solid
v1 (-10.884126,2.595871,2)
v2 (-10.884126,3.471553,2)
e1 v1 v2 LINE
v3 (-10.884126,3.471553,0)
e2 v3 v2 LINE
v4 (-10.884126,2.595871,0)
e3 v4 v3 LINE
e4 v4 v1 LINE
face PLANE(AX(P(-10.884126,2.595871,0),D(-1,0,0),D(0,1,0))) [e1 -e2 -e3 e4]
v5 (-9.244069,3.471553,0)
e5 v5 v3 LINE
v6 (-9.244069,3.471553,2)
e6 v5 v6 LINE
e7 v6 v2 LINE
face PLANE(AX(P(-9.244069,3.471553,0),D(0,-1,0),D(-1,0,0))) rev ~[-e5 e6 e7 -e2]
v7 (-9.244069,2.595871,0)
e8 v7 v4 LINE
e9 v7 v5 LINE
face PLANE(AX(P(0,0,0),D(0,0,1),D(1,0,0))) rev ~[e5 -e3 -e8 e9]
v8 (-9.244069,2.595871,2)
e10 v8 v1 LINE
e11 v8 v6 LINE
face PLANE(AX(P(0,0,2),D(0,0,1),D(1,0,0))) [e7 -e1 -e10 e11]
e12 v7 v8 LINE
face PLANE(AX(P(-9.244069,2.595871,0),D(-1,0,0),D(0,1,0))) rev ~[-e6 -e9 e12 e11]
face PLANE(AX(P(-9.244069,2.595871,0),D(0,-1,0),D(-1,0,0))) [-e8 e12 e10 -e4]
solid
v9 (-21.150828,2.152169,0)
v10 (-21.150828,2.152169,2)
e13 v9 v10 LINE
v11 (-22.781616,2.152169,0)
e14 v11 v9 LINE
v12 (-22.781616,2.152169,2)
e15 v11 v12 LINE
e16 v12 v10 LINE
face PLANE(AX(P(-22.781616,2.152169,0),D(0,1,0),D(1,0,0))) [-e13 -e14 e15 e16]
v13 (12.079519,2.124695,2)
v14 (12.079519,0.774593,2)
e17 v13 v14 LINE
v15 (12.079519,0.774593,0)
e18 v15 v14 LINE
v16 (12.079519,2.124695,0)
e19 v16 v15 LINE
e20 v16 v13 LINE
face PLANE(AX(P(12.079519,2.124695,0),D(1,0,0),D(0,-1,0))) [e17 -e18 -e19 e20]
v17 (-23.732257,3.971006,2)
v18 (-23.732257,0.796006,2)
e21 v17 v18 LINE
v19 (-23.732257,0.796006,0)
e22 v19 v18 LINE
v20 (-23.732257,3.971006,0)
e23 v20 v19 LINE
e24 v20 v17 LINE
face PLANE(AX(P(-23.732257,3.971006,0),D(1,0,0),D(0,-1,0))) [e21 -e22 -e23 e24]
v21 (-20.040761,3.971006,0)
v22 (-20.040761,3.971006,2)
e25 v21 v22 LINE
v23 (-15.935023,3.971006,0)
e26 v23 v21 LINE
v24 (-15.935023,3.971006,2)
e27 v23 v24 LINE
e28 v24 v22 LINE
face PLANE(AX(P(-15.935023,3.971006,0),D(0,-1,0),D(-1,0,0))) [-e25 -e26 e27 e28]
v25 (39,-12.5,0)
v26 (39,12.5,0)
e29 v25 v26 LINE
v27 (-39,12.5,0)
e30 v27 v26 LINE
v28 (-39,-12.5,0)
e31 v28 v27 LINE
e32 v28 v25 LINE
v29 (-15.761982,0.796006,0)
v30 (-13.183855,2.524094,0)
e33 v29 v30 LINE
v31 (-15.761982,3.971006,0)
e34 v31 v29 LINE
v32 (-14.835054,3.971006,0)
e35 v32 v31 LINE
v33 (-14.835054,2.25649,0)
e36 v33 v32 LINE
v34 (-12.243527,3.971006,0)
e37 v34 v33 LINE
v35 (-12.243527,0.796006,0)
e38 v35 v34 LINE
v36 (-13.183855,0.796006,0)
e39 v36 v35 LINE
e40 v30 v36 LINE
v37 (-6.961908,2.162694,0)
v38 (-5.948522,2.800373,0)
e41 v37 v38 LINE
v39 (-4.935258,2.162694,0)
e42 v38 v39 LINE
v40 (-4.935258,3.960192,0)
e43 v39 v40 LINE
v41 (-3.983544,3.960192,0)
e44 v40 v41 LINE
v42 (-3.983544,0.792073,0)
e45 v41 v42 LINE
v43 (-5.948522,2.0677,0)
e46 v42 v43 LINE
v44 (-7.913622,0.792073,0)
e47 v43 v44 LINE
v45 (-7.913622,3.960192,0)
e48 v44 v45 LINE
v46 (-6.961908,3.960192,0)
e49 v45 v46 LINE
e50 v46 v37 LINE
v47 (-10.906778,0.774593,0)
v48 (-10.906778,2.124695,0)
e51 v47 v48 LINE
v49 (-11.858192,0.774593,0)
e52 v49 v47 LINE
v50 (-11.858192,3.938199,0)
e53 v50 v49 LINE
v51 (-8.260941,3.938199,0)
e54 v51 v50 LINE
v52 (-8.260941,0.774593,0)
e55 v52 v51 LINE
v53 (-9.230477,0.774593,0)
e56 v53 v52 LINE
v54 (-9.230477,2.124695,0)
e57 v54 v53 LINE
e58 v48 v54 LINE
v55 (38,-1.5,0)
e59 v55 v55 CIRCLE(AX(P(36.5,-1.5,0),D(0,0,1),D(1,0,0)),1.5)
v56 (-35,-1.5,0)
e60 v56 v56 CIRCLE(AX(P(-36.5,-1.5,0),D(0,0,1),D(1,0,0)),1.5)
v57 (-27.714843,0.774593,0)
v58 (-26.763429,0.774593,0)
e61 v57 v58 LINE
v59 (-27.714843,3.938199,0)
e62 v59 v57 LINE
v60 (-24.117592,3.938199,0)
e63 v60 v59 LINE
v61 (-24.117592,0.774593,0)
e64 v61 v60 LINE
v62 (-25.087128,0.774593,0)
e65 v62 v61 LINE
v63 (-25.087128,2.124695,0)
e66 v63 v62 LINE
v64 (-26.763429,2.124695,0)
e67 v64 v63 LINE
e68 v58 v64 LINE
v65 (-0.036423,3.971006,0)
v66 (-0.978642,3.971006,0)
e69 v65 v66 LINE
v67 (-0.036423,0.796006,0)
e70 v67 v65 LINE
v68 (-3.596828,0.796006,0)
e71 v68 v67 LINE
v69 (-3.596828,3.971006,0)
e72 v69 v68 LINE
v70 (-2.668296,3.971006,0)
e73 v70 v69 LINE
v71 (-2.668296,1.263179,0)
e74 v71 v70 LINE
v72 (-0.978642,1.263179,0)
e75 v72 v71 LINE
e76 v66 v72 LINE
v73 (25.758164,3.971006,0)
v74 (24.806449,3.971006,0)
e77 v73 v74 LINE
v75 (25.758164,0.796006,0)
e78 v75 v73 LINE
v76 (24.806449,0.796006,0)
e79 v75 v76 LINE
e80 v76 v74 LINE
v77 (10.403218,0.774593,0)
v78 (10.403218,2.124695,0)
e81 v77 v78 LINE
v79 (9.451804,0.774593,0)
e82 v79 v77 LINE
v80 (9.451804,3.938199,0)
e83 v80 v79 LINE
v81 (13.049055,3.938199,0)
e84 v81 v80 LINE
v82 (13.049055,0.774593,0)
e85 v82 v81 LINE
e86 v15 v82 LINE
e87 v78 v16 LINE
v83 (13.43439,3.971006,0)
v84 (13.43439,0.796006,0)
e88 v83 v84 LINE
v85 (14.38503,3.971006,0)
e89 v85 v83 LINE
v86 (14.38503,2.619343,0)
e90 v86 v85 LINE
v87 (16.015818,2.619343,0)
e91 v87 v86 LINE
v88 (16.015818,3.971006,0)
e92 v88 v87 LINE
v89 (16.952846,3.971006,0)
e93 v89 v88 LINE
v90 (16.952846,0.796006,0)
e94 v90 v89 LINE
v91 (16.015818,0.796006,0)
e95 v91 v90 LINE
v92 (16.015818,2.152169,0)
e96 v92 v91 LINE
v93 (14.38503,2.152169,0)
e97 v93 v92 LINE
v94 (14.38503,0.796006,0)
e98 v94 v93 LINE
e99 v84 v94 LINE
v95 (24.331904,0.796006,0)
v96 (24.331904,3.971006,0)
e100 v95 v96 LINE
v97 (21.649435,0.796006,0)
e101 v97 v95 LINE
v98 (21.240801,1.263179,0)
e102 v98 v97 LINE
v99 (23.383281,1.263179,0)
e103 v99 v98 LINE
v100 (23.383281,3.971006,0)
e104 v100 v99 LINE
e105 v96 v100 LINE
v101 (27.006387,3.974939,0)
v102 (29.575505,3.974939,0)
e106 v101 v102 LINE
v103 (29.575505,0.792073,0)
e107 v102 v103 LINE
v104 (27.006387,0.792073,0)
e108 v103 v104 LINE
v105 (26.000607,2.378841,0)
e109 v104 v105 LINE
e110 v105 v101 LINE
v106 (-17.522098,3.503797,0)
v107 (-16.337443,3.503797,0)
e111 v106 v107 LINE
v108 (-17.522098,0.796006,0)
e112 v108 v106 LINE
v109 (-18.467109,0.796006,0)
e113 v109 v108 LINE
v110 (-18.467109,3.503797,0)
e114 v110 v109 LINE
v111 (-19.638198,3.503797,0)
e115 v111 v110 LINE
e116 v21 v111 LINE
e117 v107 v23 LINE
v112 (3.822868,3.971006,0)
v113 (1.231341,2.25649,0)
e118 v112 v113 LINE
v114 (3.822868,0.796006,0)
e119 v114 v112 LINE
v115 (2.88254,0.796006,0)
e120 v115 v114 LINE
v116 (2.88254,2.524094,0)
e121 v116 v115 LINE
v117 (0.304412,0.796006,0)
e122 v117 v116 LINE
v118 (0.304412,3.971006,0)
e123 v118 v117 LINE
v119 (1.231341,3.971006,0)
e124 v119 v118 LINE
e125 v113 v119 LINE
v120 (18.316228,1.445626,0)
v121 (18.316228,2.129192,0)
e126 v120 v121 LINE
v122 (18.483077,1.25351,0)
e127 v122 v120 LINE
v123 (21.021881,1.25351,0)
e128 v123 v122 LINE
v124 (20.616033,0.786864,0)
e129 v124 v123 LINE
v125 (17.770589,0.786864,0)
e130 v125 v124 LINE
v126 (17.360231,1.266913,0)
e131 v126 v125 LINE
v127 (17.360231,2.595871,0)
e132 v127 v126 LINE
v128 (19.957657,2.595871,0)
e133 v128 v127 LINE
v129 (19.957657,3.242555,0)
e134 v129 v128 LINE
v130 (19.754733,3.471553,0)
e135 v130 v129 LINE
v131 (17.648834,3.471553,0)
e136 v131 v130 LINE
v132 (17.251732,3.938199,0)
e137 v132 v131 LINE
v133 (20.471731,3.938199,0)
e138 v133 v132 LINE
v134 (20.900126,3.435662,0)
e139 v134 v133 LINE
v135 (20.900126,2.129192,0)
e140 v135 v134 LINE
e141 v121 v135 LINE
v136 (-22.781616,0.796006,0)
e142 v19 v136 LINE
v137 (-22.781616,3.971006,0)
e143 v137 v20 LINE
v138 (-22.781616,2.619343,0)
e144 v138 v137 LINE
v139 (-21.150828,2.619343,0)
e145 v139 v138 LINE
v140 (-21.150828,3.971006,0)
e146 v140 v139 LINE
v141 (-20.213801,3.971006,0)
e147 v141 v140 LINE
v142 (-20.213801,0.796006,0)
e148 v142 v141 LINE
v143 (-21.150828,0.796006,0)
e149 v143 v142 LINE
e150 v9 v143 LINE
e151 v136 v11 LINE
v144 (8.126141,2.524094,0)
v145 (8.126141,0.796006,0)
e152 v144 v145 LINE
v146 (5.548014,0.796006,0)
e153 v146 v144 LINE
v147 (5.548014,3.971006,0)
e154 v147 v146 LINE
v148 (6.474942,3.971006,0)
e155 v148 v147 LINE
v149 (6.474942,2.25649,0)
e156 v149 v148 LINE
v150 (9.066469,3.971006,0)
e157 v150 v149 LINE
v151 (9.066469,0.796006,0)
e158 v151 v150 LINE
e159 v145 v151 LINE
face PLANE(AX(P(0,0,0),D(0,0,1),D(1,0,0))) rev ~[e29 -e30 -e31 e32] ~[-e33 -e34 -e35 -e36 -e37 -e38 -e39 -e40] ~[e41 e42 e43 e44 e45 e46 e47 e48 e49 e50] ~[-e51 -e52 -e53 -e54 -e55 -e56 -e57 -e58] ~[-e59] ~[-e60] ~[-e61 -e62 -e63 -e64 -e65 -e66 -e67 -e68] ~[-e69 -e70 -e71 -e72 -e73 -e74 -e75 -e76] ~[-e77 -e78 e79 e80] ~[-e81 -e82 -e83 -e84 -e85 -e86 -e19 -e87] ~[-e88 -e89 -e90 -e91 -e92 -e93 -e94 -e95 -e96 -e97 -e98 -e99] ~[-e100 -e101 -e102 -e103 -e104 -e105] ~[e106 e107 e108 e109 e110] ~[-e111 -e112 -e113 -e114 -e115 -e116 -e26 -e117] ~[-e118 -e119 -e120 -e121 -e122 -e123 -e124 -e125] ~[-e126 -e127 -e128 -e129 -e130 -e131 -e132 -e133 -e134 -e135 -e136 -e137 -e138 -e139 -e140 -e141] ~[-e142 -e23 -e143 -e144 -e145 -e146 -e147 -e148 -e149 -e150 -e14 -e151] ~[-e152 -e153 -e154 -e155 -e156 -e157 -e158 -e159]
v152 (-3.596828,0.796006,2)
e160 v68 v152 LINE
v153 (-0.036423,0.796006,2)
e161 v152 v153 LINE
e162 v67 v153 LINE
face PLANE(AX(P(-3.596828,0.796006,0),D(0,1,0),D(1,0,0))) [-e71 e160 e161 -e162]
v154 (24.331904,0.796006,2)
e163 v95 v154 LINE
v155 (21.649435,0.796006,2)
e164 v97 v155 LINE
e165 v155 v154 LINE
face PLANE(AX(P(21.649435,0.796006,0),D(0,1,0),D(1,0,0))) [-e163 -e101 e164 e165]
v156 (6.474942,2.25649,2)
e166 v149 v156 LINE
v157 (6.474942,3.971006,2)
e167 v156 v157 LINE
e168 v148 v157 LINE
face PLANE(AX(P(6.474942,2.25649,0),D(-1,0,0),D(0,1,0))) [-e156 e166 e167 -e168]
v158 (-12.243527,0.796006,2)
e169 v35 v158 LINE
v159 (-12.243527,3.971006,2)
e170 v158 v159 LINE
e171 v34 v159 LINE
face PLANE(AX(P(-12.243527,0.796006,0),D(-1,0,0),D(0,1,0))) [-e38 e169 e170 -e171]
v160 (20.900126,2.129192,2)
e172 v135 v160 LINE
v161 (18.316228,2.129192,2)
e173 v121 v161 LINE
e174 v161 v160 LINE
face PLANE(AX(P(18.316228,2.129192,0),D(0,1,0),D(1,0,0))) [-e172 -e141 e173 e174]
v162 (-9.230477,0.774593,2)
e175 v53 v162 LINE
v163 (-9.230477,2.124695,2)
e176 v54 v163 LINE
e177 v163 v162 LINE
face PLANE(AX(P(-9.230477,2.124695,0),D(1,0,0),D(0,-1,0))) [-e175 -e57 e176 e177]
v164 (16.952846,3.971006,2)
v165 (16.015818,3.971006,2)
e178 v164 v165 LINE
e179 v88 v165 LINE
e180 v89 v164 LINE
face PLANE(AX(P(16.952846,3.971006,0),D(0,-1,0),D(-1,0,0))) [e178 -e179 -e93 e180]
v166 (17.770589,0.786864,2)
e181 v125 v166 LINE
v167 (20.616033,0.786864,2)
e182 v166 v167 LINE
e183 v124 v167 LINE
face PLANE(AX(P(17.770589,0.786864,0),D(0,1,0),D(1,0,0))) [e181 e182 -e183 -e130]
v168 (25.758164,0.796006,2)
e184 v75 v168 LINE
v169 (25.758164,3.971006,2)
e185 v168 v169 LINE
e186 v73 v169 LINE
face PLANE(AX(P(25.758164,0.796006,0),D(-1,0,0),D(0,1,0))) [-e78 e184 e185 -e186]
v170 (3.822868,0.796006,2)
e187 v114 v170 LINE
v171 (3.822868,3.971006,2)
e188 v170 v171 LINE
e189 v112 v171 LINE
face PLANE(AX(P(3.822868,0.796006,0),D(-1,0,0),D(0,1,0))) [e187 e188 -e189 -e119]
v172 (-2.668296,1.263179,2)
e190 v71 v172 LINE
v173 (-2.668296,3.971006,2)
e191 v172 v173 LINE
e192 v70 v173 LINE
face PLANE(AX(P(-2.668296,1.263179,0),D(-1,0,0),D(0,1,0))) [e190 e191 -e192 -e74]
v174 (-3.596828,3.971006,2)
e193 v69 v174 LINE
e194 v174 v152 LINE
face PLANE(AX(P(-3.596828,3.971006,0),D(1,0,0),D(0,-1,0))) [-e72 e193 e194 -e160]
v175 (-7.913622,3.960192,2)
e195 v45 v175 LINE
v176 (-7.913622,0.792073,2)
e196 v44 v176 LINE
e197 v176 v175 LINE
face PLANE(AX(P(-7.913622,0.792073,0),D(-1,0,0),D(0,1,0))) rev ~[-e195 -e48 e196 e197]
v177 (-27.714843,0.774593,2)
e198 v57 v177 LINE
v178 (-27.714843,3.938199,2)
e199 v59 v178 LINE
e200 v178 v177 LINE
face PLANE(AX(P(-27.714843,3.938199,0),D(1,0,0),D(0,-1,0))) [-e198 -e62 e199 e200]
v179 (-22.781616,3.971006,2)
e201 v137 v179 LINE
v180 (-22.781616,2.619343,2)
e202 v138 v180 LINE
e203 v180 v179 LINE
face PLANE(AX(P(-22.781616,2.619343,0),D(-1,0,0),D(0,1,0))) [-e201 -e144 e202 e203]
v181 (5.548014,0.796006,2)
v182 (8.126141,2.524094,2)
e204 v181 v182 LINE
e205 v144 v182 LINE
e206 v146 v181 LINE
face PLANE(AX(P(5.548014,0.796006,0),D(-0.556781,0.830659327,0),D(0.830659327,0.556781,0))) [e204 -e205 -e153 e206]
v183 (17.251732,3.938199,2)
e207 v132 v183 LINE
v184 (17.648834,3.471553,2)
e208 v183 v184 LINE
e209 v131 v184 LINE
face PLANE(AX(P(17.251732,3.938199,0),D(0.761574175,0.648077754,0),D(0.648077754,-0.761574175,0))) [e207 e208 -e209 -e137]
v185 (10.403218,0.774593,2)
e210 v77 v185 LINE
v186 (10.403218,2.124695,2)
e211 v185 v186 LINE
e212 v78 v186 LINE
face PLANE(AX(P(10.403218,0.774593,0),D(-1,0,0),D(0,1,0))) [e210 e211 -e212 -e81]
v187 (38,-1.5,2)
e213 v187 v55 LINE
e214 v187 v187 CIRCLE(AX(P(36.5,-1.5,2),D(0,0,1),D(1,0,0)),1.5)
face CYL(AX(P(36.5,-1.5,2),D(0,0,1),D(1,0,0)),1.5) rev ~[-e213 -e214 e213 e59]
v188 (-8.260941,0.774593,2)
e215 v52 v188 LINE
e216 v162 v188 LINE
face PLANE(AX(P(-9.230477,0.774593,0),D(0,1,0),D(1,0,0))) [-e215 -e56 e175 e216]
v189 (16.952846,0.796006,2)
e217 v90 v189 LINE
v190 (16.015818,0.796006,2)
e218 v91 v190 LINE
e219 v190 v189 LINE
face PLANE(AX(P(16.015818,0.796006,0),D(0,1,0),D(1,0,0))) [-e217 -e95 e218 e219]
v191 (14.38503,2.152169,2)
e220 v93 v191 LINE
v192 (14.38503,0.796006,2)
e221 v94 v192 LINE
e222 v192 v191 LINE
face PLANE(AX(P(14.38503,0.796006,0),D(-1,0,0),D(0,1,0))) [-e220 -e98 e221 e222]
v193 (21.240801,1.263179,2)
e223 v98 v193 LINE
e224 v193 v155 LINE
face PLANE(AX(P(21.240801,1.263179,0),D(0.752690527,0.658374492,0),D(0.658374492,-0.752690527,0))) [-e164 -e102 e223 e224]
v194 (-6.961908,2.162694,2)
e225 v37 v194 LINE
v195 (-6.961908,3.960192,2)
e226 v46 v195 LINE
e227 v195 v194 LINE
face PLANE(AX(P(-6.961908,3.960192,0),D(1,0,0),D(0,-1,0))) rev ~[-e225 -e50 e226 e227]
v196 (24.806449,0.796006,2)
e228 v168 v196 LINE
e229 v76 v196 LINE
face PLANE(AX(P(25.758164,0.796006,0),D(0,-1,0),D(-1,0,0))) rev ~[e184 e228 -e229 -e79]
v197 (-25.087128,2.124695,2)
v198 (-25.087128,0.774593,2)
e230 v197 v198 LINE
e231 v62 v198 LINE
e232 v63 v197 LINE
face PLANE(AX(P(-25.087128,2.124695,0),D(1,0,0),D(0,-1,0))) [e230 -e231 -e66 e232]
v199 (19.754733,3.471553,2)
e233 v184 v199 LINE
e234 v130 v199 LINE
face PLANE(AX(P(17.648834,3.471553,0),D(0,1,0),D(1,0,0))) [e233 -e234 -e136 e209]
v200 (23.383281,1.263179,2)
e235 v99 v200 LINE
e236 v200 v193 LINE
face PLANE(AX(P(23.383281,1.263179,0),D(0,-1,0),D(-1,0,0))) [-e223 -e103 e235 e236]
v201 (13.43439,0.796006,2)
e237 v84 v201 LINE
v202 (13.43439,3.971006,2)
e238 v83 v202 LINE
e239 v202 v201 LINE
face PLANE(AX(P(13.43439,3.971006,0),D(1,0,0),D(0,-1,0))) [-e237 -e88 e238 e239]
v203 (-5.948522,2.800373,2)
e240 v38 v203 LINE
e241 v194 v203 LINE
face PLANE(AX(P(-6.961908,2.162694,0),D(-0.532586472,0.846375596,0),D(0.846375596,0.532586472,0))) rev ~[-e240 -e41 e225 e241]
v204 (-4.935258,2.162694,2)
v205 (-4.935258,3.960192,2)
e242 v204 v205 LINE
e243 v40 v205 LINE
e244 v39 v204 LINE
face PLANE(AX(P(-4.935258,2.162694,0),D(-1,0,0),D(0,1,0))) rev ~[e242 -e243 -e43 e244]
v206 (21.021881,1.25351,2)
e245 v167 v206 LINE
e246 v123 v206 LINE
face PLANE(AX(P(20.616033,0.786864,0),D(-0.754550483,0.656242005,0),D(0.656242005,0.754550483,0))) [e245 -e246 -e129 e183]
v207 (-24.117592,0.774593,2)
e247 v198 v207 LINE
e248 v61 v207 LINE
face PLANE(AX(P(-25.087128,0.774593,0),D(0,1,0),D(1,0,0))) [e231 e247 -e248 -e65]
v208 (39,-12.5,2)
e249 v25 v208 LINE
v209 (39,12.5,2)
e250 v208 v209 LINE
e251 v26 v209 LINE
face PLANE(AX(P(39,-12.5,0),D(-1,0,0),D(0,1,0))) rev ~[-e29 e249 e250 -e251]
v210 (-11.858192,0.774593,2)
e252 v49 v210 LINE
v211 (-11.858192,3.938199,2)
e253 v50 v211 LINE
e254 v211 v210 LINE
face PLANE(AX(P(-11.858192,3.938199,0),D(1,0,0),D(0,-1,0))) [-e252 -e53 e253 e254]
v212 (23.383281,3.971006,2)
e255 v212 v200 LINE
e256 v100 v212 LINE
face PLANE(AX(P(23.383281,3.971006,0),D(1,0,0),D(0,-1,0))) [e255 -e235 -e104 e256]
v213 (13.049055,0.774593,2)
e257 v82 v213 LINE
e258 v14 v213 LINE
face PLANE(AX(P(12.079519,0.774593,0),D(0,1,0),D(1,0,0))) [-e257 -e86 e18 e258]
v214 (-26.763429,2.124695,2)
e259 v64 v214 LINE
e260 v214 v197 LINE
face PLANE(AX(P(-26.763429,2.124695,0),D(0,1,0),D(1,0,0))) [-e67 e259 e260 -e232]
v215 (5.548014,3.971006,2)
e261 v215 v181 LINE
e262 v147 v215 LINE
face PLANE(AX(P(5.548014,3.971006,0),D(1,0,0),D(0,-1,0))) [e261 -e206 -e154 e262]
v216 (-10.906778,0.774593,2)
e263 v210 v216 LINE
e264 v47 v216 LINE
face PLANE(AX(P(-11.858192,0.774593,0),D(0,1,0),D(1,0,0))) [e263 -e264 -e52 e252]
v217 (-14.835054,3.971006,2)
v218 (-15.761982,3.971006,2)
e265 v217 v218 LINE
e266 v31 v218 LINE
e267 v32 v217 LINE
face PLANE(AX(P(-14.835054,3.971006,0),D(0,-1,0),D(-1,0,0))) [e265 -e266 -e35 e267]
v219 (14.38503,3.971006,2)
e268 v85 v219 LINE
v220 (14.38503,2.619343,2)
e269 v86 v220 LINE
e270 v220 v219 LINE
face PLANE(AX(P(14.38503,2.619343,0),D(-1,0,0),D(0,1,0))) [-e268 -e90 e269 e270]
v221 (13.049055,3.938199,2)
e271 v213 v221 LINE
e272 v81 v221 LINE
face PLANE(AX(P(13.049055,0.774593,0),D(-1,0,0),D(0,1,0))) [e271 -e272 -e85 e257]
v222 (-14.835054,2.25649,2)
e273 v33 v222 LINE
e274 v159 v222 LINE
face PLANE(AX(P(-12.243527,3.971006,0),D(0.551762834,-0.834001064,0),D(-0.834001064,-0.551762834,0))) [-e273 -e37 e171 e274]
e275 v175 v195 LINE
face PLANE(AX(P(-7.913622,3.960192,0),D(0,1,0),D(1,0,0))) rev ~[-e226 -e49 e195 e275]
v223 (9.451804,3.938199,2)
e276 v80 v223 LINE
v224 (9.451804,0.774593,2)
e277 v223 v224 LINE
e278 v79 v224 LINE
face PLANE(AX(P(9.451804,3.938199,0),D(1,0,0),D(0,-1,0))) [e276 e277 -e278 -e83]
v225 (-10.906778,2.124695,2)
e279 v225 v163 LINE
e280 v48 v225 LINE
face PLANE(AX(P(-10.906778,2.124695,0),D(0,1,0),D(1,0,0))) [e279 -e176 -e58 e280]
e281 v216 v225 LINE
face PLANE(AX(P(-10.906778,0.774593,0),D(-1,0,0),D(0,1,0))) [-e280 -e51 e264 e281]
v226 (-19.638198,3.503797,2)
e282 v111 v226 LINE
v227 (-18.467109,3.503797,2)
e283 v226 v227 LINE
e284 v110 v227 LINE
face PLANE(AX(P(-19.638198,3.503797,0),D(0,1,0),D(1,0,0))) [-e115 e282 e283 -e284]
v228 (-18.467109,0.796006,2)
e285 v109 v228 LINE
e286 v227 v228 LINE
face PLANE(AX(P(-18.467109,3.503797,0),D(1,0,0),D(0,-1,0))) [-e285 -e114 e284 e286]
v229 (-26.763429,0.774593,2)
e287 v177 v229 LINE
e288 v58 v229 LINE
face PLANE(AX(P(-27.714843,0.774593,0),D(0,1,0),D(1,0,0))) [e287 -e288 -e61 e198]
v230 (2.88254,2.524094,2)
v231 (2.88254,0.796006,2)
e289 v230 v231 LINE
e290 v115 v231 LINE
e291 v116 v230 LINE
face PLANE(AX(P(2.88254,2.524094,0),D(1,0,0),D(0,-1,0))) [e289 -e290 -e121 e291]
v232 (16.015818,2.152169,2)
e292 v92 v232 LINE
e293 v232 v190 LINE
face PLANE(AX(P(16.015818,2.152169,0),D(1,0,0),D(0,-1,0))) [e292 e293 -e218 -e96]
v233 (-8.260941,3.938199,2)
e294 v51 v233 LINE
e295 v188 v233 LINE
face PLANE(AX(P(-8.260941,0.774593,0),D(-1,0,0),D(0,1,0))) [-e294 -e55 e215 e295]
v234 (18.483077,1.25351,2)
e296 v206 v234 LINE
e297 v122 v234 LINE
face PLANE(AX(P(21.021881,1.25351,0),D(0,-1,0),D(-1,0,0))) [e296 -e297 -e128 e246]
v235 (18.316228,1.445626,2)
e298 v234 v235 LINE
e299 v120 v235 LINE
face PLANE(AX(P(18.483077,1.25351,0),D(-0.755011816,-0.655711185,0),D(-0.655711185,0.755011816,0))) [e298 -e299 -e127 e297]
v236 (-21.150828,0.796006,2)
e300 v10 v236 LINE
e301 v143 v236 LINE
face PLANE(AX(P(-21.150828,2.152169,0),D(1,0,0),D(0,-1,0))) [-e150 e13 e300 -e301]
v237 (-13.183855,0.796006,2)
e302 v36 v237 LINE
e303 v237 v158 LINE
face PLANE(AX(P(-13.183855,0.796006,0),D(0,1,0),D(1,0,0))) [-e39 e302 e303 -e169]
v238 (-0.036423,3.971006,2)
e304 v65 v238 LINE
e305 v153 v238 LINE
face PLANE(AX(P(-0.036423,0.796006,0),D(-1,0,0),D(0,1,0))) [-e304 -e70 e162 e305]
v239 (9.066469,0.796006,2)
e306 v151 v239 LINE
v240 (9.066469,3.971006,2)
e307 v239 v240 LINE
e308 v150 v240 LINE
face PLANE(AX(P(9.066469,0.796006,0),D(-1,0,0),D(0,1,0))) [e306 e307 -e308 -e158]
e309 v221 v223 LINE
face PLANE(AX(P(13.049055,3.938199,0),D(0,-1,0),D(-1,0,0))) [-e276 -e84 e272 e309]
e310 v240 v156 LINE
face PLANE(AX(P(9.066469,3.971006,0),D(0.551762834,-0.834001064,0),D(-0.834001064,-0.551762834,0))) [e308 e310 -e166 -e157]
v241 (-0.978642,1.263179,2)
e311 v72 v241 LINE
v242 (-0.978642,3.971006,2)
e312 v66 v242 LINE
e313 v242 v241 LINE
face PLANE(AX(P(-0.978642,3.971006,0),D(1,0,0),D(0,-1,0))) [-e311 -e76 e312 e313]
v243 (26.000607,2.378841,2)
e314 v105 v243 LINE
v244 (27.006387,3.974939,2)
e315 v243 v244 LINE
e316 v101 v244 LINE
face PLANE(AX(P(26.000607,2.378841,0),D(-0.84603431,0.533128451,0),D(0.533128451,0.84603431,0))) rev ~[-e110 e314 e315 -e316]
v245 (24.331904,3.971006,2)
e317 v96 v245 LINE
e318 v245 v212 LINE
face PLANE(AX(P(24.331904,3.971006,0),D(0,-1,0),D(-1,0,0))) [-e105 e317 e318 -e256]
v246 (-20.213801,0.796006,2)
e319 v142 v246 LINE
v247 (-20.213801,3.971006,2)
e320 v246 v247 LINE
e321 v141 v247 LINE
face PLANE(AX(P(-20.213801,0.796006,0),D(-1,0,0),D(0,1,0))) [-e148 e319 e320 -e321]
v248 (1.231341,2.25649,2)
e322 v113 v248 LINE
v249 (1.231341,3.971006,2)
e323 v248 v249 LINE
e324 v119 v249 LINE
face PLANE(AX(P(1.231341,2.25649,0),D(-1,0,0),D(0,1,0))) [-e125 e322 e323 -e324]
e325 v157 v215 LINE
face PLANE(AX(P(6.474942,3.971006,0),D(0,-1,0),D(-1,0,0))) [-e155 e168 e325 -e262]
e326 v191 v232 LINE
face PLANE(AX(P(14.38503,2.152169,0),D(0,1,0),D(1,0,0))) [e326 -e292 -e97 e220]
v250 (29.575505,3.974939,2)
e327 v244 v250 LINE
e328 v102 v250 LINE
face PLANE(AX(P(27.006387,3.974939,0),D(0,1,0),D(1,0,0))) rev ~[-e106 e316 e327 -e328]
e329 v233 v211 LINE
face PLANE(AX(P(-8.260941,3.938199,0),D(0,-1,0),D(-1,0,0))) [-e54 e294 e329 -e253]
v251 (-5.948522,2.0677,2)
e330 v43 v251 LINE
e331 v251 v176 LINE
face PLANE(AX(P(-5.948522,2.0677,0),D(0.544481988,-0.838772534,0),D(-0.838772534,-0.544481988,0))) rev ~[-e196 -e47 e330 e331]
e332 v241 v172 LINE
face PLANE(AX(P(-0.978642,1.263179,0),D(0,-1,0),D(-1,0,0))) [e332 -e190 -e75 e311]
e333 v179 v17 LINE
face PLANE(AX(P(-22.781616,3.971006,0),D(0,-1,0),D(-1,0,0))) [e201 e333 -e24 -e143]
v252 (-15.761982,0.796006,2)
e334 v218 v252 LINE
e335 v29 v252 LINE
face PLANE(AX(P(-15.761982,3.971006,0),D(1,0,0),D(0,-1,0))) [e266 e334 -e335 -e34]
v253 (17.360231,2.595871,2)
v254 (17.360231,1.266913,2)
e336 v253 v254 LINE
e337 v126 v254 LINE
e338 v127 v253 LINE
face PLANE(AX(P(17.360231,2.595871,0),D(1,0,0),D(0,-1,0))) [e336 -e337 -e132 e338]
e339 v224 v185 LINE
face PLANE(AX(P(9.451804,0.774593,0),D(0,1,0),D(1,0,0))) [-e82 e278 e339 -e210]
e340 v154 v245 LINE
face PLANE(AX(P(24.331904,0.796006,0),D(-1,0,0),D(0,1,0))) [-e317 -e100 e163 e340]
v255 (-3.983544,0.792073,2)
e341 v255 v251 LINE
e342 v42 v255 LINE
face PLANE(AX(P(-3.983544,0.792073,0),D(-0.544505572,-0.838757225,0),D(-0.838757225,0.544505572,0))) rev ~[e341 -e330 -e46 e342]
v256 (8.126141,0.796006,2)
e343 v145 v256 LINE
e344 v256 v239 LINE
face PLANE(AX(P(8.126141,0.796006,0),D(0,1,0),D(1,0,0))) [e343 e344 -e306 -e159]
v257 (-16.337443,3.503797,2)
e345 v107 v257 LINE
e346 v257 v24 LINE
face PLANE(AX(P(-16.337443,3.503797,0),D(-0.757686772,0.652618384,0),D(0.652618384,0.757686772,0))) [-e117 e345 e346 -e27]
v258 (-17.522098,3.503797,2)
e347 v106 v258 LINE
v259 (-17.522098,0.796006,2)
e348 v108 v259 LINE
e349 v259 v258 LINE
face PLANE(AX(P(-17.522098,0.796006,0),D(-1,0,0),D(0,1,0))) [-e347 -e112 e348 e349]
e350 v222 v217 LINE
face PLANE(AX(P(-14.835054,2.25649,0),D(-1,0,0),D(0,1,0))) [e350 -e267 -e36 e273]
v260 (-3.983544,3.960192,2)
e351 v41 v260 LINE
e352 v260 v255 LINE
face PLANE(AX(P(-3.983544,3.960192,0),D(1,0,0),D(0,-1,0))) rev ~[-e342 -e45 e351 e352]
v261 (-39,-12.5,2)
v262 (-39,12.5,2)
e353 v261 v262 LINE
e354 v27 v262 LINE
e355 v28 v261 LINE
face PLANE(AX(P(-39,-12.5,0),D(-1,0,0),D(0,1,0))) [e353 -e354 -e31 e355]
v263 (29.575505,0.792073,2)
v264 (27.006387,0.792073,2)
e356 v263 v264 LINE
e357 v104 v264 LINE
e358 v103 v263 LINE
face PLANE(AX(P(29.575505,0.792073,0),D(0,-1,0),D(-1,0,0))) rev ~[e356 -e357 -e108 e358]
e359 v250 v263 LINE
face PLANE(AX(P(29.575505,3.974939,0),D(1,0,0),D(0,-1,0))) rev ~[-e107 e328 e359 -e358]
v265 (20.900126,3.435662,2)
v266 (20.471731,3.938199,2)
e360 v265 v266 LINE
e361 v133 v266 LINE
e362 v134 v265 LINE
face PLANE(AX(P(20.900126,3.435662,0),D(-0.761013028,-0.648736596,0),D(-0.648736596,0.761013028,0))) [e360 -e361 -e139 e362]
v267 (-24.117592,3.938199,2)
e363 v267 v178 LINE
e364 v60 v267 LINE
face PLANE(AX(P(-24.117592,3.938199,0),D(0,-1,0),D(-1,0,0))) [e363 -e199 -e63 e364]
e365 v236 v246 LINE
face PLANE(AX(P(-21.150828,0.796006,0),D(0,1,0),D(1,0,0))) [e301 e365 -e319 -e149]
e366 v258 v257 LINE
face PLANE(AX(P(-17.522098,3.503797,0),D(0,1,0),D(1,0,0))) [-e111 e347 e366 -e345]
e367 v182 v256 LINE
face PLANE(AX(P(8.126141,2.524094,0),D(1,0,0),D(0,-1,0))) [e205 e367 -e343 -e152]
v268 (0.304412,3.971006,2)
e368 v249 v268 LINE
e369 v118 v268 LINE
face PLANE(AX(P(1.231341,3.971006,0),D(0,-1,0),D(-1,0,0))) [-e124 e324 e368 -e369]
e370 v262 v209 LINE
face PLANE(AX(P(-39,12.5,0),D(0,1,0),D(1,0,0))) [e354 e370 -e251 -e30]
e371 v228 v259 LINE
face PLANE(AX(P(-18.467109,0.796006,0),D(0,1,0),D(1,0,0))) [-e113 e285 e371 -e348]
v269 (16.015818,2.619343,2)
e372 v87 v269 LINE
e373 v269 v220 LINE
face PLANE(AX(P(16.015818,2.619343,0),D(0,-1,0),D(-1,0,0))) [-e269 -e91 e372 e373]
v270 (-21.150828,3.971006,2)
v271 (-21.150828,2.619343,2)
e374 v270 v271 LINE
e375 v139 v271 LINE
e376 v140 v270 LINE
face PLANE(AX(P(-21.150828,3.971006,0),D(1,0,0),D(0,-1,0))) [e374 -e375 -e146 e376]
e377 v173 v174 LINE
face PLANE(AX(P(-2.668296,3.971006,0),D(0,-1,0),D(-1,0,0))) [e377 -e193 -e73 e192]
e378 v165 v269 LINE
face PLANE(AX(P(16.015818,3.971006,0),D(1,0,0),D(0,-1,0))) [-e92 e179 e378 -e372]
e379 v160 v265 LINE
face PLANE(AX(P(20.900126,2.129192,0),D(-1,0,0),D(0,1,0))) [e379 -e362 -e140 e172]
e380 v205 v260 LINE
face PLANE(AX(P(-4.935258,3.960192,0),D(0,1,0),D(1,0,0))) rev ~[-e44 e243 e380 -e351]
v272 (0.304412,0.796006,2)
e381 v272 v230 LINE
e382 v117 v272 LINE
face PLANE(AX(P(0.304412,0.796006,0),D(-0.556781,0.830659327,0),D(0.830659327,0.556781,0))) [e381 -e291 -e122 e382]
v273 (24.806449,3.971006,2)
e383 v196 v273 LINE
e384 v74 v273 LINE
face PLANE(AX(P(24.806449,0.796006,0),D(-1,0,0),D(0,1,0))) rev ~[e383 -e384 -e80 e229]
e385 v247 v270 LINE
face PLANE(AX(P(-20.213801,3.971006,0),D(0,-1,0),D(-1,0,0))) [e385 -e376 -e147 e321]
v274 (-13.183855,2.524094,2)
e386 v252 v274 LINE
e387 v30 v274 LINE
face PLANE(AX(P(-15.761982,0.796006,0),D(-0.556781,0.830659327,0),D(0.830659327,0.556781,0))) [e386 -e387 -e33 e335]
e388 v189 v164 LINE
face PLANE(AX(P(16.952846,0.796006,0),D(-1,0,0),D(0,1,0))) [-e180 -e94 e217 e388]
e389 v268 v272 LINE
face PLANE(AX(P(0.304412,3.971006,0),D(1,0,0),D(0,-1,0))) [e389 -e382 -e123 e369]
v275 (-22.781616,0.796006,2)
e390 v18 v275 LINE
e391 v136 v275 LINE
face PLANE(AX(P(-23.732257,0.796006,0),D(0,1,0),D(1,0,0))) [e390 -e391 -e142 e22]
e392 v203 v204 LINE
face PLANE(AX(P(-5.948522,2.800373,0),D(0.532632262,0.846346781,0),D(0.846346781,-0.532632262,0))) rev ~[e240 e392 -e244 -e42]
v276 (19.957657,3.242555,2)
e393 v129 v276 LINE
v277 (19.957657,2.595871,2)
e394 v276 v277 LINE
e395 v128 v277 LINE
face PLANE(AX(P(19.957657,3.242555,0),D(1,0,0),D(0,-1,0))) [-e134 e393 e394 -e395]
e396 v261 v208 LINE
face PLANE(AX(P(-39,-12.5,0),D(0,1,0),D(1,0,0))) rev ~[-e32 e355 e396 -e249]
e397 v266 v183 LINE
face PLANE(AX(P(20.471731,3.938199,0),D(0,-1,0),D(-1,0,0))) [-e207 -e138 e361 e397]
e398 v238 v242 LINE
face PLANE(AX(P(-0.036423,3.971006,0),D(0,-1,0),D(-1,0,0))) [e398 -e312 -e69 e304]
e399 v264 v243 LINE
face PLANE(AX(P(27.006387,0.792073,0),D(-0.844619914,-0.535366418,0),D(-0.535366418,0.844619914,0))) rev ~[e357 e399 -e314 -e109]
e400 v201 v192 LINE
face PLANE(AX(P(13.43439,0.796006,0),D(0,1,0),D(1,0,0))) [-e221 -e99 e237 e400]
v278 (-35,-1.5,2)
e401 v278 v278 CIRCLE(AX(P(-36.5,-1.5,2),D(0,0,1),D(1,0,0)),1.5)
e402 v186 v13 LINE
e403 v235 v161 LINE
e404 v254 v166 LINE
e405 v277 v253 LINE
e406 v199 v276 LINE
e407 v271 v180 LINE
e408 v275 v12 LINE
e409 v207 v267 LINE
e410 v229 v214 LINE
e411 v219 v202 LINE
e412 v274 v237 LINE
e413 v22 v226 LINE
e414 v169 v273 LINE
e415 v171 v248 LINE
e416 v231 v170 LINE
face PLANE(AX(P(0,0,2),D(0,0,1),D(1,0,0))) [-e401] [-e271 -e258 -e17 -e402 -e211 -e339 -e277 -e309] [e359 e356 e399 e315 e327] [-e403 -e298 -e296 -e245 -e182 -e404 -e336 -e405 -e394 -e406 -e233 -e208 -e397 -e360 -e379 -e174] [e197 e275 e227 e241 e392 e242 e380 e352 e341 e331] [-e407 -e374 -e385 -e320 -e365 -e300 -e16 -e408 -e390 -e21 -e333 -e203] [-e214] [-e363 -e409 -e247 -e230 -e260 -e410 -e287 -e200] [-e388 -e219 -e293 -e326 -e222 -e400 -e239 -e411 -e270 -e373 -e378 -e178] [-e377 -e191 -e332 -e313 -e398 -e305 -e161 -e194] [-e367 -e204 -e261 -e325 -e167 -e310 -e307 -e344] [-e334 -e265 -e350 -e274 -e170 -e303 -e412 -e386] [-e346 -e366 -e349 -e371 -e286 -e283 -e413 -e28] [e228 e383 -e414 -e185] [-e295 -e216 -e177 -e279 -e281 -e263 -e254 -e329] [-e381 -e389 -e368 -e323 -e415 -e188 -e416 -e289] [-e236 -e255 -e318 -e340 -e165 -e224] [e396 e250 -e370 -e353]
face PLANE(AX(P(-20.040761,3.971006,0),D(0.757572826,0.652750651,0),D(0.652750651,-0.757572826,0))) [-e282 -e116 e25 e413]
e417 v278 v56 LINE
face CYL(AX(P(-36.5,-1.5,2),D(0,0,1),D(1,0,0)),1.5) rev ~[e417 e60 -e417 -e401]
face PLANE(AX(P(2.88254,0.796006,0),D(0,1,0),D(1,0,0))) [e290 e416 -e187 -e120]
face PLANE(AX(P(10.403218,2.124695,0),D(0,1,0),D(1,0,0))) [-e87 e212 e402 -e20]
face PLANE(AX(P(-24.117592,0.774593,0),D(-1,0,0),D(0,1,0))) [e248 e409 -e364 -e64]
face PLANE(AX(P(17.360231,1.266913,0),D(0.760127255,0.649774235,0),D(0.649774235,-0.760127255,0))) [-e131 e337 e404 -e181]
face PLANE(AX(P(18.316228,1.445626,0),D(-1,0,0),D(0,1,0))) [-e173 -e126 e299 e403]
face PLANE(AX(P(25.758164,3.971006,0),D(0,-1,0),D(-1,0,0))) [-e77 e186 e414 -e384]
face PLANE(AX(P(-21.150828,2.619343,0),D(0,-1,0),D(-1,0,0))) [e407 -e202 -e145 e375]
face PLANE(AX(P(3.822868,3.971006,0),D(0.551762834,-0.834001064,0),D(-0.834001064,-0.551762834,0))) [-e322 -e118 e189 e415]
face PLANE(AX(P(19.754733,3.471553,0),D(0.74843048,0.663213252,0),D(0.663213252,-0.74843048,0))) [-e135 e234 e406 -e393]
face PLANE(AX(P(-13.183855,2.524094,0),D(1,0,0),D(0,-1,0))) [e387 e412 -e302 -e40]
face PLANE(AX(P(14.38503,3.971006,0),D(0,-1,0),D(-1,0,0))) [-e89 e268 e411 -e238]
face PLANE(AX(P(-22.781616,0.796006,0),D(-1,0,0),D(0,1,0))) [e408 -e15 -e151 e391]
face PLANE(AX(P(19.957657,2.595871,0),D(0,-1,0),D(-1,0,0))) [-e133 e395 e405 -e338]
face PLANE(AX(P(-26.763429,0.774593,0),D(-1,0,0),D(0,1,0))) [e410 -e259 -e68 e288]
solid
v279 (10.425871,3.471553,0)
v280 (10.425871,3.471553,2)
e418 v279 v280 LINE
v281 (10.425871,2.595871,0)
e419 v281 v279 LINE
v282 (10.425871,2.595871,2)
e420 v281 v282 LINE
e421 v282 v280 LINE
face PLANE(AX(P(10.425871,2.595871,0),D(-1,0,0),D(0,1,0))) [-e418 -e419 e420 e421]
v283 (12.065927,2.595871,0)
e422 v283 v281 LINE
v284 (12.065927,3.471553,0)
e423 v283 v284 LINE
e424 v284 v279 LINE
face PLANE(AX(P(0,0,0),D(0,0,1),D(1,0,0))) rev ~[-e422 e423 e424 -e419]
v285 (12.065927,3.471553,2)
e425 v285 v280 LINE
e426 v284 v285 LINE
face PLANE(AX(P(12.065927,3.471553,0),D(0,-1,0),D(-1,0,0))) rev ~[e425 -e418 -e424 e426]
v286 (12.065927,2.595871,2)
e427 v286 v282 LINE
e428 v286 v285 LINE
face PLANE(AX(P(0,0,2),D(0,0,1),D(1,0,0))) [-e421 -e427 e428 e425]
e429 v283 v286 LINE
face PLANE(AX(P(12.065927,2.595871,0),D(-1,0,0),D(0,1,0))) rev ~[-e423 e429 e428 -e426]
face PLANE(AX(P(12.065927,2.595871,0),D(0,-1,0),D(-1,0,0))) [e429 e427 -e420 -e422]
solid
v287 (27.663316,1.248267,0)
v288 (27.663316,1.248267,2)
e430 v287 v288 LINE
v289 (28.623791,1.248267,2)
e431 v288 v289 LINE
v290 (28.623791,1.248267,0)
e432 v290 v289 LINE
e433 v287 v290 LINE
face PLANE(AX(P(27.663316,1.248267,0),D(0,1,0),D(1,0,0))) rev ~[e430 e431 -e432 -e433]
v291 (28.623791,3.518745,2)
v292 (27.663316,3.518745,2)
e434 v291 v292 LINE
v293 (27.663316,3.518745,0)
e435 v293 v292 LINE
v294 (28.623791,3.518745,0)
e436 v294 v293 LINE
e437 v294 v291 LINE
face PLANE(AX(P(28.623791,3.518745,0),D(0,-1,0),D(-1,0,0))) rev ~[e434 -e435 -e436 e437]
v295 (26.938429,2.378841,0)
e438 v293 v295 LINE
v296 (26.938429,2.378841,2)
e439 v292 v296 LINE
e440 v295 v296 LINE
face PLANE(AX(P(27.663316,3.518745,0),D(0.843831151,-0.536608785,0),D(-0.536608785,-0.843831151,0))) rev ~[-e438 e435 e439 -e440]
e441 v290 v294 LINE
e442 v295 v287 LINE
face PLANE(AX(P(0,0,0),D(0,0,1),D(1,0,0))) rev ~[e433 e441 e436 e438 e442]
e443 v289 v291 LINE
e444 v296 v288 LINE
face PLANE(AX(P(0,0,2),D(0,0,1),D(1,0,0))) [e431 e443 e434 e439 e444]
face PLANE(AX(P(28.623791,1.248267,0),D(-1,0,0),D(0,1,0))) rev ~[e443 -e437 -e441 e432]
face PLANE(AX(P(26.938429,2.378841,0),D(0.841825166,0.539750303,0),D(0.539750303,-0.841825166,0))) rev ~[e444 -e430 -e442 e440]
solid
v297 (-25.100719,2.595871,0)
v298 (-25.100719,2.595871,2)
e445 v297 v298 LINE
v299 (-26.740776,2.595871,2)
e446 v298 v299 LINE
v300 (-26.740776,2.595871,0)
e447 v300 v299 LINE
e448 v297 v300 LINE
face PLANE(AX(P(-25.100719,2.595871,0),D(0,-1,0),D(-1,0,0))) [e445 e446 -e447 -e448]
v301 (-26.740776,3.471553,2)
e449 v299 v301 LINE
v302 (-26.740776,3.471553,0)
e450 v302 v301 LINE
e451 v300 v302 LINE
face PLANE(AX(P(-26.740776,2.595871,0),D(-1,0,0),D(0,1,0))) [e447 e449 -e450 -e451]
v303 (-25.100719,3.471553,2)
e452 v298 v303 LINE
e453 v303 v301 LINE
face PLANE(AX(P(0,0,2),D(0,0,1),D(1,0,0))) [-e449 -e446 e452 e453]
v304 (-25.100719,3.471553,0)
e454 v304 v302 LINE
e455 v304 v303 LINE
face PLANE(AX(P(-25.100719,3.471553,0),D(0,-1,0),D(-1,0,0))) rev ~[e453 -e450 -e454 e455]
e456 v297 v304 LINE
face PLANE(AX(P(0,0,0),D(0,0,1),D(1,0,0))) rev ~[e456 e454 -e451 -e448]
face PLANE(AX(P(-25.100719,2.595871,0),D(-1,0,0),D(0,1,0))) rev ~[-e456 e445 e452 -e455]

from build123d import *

# Parameters (mm, degrees)
SKETCH1_W           = 78
SKETCH1_H           = 25
BOSS_EXTRUDE1_DEPTH = 2
SKETCH2_R           = 1.5
CUT_EXTRUDE1_DEPTH  = 2
SKETCH3_W           = 0.951714292
SKETCH3_H           = 3.175
SKETCH3_W_2         = 1.64005667
SKETCH3_H_2         = 0.875681432
SKETCH3_W_3         = 1.640056671
CUT_EXTRUDE2_DEPTH  = 2


with BuildPart() as part:
    # Sketch1 → Boss-Extrude1 (new body)
    with BuildSketch(Plane.XY):
        Rectangle(SKETCH1_W, SKETCH1_H)
    extrude(amount=BOSS_EXTRUDE1_DEPTH)

    # Sketch2 → Cut-Extrude1 (cut)
    with BuildSketch(Plane.XY.offset(2)):
        with Locations((-36.5, -1.5)):
            Circle(SKETCH2_R)
        with Locations((36.5, -1.5)):
            Circle(SKETCH2_R)
    extrude(amount=-CUT_EXTRUDE1_DEPTH, mode=Mode.SUBTRACT)

    # Sketch3 → Cut-Extrude2 (cut)
    # profile 1 of 15: a face of its own
    with BuildSketch(Plane(origin=(0, 0, 0), x_dir=(-1, 0, 0), z_dir=(0, 0, -1))):
        Polygon((-29.575505362, 3.974938648), (-29.575505362, 0.792073246), (-27.006387116, 0.792073246), (-26.000606506, 2.378841305), (-27.006387116, 3.974938648), align=None)
        Polygon((-28.62379107, 3.518744687), (-27.663315893, 3.518744687), (-26.938428967, 2.378841305), (-27.663315893, 1.248266567), (-28.62379107, 1.248266567), align=None, mode=Mode.SUBTRACT)
    # profile 2 of 15: a face of its own
    with BuildSketch(Plane(origin=(0, 0, 0), x_dir=(-1, 0, 0), z_dir=(0, 0, -1))):
        with Locations((-25.282306406, 2.383505947)):
            Rectangle(SKETCH3_W, SKETCH3_H)
    # profile 3 of 15: a face of its own
    with BuildSketch(Plane(origin=(0, 0, 0), x_dir=(-1, 0, 0), z_dir=(0, 0, -1))):
        Polygon((-21.240800957, 1.263179338), (-21.649435094, 0.796005947), (-24.331903974, 0.796005947), (-24.331903974, 3.971005947), (-23.383281308, 3.971005947), (-23.383281308, 1.263179338), align=None)
    # profile 4 of 15: a face of its own
    with BuildSketch(Plane(origin=(0, 0, 0), x_dir=(-1, 0, 0), z_dir=(0, 0, -1))):
        Polygon((-17.360231248, 1.266912972), (-17.770588503, 0.786863569), (-20.616032764, 0.786863569), (-21.021880599, 1.253509528), (-18.483076923, 1.253509528), (-18.316228369, 1.445625558), (-18.316228369, 2.1291916), (-20.900126248, 2.1291916), (-20.900126248, 3.435661897), (-20.471731312, 3.938198874), (-17.251731841, 3.938198874), (-17.648834152, 3.471552915), (-19.754733471, 3.471552915), (-19.957657388, 3.242555011), (-19.957657388, 2.595871483), (-17.360231248, 2.595871483), align=None)
    # profile 5 of 15: a face of its own
    with BuildSketch(Plane(origin=(0, 0, 0), x_dir=(-1, 0, 0), z_dir=(0, 0, -1))):
        Polygon((-13.434390031, 3.971005947), (-13.434390031, 0.796005947), (-14.385030255, 0.796005947), (-14.385030255, 2.152169481), (-16.015818451, 2.152169481), (-16.015818451, 0.796005947), (-16.952845922, 0.796005947), (-16.952845922, 3.971005947), (-16.015818451, 3.971005947), (-16.015818451, 2.619342872), (-14.385030255, 2.619342872), (-14.385030255, 3.971005947), align=None)
    # profile 6 of 15: a face of its own
    with BuildSketch(Plane(origin=(0, 0, 0), x_dir=(-1, 0, 0), z_dir=(0, 0, -1))):
        Polygon((-9.451803728, 3.938198874), (-9.451803728, 0.774593081), (-10.403217818, 0.774593081), (-10.403217818, 2.124694981), (-12.079518835, 2.124694981), (-12.079518835, 0.774593081), (-13.049055099, 0.774593081), (-13.049055099, 3.938198874), align=None)
        with Locations((-11.24589887, 3.033712199)):
            Rectangle(SKETCH3_W_2, SKETCH3_H_2, mode=Mode.SUBTRACT)
    # profile 7 of 15: a face of its own
    with BuildSketch(Plane(origin=(0, 0, 0), x_dir=(-1, 0, 0), z_dir=(0, 0, -1))):
        Polygon((-5.548013544, 0.796005947), (-8.12614103, 2.524093928), (-8.12614103, 0.796005947), (-9.066469435, 0.796005947), (-9.066469435, 3.971005947), (-6.474942346, 2.256489753), (-6.474942346, 3.971005947), (-5.548013544, 3.971005947), align=None)
    # profile 8 of 15: a face of its own
    with BuildSketch(Plane(origin=(0, 0, 0), x_dir=(-1, 0, 0), z_dir=(0, 0, -1))):
        Polygon((-0.304412157, 0.796005947), (-2.882539642, 2.524093928), (-2.882539642, 0.796005947), (-3.822868048, 0.796005947), (-3.822868048, 3.971005947), (-1.231340959, 2.256489753), (-1.231340959, 3.971005947), (-0.304412157, 3.971005947), align=None)
    # profile 9 of 15: a face of its own
    with BuildSketch(Plane(origin=(0, 0, 0), x_dir=(-1, 0, 0), z_dir=(0, 0, -1))):
        Polygon((3.596827915, 3.971005947), (3.596827915, 0.796005947), (0.036422573, 0.796005947), (0.036422573, 3.971005947), (0.978642439, 3.971005947), (0.978642439, 1.263179338), (2.668296333, 1.263179338), (2.668296333, 3.971005947), align=None)
    # profile 10 of 15: a face of its own
    with BuildSketch(Plane(origin=(0, 0, 0), x_dir=(-1, 0, 0), z_dir=(0, 0, -1))):
        Polygon((5.948522329, 2.06770026), (7.913622117, 0.792072606), (7.913622117, 3.960191659), (6.961908466, 3.960191659), (6.961908466, 2.162693809), (5.948522329, 2.800372577), (4.93525781, 2.162693809), (4.93525781, 3.960191659), (3.983543518, 3.960191659), (3.983543518, 0.792072606), align=None)
    # profile 11 of 15: a face of its own
    with BuildSketch(Plane(origin=(0, 0, 0), x_dir=(-1, 0, 0), z_dir=(0, 0, -1))):
        Polygon((11.858192311, 3.938198874), (11.858192311, 0.774593081), (10.90677822, 0.774593081), (10.90677822, 2.124694981), (9.230477204, 2.124694981), (9.230477204, 0.774593081), (8.26094094, 0.774593081), (8.26094094, 3.938198874), align=None)
        with Locations((10.064097169, 3.033712199)):
            Rectangle(SKETCH3_W_3, SKETCH3_H_2, mode=Mode.SUBTRACT)
    # profile 12 of 15: a face of its own
    with BuildSketch(Plane(origin=(0, 0, 0), x_dir=(-1, 0, 0), z_dir=(0, 0, -1))):
        Polygon((15.761982494, 0.796005947), (13.183855009, 2.524093928), (13.183855009, 0.796005947), (12.243526603, 0.796005947), (12.243526603, 3.971005947), (14.835053692, 2.256489753), (14.835053692, 3.971005947), (15.761982494, 3.971005947), align=None)
    # profile 13 of 15: a face of its own
    with BuildSketch(Plane(origin=(0, 0, 0), x_dir=(-1, 0, 0), z_dir=(0, 0, -1))):
        Polygon((19.638198324, 3.503797351), (18.467108571, 3.503797351), (18.467108571, 0.796005947), (17.522097922, 0.796005947), (17.522097922, 3.503797351), (16.337443423, 3.503797351), (15.93502262, 3.971005947), (20.040761226, 3.971005947), align=None)
    # profile 14 of 15: a face of its own
    with BuildSketch(Plane(origin=(0, 0, 0), x_dir=(-1, 0, 0), z_dir=(0, 0, -1))):
        Polygon((23.732256603, 3.971005947), (23.732256603, 0.796005947), (22.781616379, 0.796005947), (22.781616379, 2.152169481), (21.150828183, 2.152169481), (21.150828183, 0.796005947), (20.213800712, 0.796005947), (20.213800712, 3.971005947), (21.150828183, 3.971005947), (21.150828183, 2.619342872), (22.781616379, 2.619342872), (22.781616379, 3.971005947), align=None)
    # profile 15 of 15: a face of its own
    with BuildSketch(Plane(origin=(0, 0, 0), x_dir=(-1, 0, 0), z_dir=(0, 0, -1))):
        Polygon((27.714842907, 3.938198874), (27.714842907, 0.774593081), (26.763428816, 0.774593081), (26.763428816, 2.124694981), (25.087127799, 2.124694981), (25.087127799, 0.774593081), (24.117591535, 0.774593081), (24.117591535, 3.938198874), align=None)
        with Locations((25.920747764, 3.033712199)):
            Rectangle(SKETCH3_W_2, SKETCH3_H_2, mode=Mode.SUBTRACT)
    extrude(amount=-CUT_EXTRUDE2_DEPTH, mode=Mode.SUBTRACT)


with BuildPart() as cut_extrude2_piece_1:
    # of the separate pieces the step leaves, piece 1, a body of its own (cut_extrude2_pieces)
    add(part.part.solids().sort_by_distance((-39, 12.5, 0))[0])


with BuildPart() as cut_extrude2_piece_2:
    # of the separate pieces the step leaves, piece 2, a body of its own (cut_extrude2_pieces)
    add(part.part.solids().sort_by_distance((28.62379107, 3.518744687, 0))[0])


with BuildPart() as cut_extrude2_piece_3:
    # of the separate pieces the step leaves, piece 3, a body of its own (cut_extrude2_pieces)
    add(part.part.solids().sort_by_distance((10.425870535, 3.471552915, 0))[0])


with BuildPart() as cut_extrude2_piece_4:
    # of the separate pieces the step leaves, piece 4, a body of its own (cut_extrude2_pieces)
    add(part.part.solids().sort_by_distance((-10.884125504, 3.471552915, 0))[0])


with BuildPart() as cut_extrude2_piece_5:
    # of the separate pieces the step leaves, piece 5, a body of its own (cut_extrude2_pieces)
    add(part.part.solids().sort_by_distance((-26.740776099, 3.471552915, 0))[0])


solid = Compound([cut_extrude2_piece_1.part, cut_extrude2_piece_2.part, cut_extrude2_piece_3.part, cut_extrude2_piece_4.part, cut_extrude2_piece_5.part])
